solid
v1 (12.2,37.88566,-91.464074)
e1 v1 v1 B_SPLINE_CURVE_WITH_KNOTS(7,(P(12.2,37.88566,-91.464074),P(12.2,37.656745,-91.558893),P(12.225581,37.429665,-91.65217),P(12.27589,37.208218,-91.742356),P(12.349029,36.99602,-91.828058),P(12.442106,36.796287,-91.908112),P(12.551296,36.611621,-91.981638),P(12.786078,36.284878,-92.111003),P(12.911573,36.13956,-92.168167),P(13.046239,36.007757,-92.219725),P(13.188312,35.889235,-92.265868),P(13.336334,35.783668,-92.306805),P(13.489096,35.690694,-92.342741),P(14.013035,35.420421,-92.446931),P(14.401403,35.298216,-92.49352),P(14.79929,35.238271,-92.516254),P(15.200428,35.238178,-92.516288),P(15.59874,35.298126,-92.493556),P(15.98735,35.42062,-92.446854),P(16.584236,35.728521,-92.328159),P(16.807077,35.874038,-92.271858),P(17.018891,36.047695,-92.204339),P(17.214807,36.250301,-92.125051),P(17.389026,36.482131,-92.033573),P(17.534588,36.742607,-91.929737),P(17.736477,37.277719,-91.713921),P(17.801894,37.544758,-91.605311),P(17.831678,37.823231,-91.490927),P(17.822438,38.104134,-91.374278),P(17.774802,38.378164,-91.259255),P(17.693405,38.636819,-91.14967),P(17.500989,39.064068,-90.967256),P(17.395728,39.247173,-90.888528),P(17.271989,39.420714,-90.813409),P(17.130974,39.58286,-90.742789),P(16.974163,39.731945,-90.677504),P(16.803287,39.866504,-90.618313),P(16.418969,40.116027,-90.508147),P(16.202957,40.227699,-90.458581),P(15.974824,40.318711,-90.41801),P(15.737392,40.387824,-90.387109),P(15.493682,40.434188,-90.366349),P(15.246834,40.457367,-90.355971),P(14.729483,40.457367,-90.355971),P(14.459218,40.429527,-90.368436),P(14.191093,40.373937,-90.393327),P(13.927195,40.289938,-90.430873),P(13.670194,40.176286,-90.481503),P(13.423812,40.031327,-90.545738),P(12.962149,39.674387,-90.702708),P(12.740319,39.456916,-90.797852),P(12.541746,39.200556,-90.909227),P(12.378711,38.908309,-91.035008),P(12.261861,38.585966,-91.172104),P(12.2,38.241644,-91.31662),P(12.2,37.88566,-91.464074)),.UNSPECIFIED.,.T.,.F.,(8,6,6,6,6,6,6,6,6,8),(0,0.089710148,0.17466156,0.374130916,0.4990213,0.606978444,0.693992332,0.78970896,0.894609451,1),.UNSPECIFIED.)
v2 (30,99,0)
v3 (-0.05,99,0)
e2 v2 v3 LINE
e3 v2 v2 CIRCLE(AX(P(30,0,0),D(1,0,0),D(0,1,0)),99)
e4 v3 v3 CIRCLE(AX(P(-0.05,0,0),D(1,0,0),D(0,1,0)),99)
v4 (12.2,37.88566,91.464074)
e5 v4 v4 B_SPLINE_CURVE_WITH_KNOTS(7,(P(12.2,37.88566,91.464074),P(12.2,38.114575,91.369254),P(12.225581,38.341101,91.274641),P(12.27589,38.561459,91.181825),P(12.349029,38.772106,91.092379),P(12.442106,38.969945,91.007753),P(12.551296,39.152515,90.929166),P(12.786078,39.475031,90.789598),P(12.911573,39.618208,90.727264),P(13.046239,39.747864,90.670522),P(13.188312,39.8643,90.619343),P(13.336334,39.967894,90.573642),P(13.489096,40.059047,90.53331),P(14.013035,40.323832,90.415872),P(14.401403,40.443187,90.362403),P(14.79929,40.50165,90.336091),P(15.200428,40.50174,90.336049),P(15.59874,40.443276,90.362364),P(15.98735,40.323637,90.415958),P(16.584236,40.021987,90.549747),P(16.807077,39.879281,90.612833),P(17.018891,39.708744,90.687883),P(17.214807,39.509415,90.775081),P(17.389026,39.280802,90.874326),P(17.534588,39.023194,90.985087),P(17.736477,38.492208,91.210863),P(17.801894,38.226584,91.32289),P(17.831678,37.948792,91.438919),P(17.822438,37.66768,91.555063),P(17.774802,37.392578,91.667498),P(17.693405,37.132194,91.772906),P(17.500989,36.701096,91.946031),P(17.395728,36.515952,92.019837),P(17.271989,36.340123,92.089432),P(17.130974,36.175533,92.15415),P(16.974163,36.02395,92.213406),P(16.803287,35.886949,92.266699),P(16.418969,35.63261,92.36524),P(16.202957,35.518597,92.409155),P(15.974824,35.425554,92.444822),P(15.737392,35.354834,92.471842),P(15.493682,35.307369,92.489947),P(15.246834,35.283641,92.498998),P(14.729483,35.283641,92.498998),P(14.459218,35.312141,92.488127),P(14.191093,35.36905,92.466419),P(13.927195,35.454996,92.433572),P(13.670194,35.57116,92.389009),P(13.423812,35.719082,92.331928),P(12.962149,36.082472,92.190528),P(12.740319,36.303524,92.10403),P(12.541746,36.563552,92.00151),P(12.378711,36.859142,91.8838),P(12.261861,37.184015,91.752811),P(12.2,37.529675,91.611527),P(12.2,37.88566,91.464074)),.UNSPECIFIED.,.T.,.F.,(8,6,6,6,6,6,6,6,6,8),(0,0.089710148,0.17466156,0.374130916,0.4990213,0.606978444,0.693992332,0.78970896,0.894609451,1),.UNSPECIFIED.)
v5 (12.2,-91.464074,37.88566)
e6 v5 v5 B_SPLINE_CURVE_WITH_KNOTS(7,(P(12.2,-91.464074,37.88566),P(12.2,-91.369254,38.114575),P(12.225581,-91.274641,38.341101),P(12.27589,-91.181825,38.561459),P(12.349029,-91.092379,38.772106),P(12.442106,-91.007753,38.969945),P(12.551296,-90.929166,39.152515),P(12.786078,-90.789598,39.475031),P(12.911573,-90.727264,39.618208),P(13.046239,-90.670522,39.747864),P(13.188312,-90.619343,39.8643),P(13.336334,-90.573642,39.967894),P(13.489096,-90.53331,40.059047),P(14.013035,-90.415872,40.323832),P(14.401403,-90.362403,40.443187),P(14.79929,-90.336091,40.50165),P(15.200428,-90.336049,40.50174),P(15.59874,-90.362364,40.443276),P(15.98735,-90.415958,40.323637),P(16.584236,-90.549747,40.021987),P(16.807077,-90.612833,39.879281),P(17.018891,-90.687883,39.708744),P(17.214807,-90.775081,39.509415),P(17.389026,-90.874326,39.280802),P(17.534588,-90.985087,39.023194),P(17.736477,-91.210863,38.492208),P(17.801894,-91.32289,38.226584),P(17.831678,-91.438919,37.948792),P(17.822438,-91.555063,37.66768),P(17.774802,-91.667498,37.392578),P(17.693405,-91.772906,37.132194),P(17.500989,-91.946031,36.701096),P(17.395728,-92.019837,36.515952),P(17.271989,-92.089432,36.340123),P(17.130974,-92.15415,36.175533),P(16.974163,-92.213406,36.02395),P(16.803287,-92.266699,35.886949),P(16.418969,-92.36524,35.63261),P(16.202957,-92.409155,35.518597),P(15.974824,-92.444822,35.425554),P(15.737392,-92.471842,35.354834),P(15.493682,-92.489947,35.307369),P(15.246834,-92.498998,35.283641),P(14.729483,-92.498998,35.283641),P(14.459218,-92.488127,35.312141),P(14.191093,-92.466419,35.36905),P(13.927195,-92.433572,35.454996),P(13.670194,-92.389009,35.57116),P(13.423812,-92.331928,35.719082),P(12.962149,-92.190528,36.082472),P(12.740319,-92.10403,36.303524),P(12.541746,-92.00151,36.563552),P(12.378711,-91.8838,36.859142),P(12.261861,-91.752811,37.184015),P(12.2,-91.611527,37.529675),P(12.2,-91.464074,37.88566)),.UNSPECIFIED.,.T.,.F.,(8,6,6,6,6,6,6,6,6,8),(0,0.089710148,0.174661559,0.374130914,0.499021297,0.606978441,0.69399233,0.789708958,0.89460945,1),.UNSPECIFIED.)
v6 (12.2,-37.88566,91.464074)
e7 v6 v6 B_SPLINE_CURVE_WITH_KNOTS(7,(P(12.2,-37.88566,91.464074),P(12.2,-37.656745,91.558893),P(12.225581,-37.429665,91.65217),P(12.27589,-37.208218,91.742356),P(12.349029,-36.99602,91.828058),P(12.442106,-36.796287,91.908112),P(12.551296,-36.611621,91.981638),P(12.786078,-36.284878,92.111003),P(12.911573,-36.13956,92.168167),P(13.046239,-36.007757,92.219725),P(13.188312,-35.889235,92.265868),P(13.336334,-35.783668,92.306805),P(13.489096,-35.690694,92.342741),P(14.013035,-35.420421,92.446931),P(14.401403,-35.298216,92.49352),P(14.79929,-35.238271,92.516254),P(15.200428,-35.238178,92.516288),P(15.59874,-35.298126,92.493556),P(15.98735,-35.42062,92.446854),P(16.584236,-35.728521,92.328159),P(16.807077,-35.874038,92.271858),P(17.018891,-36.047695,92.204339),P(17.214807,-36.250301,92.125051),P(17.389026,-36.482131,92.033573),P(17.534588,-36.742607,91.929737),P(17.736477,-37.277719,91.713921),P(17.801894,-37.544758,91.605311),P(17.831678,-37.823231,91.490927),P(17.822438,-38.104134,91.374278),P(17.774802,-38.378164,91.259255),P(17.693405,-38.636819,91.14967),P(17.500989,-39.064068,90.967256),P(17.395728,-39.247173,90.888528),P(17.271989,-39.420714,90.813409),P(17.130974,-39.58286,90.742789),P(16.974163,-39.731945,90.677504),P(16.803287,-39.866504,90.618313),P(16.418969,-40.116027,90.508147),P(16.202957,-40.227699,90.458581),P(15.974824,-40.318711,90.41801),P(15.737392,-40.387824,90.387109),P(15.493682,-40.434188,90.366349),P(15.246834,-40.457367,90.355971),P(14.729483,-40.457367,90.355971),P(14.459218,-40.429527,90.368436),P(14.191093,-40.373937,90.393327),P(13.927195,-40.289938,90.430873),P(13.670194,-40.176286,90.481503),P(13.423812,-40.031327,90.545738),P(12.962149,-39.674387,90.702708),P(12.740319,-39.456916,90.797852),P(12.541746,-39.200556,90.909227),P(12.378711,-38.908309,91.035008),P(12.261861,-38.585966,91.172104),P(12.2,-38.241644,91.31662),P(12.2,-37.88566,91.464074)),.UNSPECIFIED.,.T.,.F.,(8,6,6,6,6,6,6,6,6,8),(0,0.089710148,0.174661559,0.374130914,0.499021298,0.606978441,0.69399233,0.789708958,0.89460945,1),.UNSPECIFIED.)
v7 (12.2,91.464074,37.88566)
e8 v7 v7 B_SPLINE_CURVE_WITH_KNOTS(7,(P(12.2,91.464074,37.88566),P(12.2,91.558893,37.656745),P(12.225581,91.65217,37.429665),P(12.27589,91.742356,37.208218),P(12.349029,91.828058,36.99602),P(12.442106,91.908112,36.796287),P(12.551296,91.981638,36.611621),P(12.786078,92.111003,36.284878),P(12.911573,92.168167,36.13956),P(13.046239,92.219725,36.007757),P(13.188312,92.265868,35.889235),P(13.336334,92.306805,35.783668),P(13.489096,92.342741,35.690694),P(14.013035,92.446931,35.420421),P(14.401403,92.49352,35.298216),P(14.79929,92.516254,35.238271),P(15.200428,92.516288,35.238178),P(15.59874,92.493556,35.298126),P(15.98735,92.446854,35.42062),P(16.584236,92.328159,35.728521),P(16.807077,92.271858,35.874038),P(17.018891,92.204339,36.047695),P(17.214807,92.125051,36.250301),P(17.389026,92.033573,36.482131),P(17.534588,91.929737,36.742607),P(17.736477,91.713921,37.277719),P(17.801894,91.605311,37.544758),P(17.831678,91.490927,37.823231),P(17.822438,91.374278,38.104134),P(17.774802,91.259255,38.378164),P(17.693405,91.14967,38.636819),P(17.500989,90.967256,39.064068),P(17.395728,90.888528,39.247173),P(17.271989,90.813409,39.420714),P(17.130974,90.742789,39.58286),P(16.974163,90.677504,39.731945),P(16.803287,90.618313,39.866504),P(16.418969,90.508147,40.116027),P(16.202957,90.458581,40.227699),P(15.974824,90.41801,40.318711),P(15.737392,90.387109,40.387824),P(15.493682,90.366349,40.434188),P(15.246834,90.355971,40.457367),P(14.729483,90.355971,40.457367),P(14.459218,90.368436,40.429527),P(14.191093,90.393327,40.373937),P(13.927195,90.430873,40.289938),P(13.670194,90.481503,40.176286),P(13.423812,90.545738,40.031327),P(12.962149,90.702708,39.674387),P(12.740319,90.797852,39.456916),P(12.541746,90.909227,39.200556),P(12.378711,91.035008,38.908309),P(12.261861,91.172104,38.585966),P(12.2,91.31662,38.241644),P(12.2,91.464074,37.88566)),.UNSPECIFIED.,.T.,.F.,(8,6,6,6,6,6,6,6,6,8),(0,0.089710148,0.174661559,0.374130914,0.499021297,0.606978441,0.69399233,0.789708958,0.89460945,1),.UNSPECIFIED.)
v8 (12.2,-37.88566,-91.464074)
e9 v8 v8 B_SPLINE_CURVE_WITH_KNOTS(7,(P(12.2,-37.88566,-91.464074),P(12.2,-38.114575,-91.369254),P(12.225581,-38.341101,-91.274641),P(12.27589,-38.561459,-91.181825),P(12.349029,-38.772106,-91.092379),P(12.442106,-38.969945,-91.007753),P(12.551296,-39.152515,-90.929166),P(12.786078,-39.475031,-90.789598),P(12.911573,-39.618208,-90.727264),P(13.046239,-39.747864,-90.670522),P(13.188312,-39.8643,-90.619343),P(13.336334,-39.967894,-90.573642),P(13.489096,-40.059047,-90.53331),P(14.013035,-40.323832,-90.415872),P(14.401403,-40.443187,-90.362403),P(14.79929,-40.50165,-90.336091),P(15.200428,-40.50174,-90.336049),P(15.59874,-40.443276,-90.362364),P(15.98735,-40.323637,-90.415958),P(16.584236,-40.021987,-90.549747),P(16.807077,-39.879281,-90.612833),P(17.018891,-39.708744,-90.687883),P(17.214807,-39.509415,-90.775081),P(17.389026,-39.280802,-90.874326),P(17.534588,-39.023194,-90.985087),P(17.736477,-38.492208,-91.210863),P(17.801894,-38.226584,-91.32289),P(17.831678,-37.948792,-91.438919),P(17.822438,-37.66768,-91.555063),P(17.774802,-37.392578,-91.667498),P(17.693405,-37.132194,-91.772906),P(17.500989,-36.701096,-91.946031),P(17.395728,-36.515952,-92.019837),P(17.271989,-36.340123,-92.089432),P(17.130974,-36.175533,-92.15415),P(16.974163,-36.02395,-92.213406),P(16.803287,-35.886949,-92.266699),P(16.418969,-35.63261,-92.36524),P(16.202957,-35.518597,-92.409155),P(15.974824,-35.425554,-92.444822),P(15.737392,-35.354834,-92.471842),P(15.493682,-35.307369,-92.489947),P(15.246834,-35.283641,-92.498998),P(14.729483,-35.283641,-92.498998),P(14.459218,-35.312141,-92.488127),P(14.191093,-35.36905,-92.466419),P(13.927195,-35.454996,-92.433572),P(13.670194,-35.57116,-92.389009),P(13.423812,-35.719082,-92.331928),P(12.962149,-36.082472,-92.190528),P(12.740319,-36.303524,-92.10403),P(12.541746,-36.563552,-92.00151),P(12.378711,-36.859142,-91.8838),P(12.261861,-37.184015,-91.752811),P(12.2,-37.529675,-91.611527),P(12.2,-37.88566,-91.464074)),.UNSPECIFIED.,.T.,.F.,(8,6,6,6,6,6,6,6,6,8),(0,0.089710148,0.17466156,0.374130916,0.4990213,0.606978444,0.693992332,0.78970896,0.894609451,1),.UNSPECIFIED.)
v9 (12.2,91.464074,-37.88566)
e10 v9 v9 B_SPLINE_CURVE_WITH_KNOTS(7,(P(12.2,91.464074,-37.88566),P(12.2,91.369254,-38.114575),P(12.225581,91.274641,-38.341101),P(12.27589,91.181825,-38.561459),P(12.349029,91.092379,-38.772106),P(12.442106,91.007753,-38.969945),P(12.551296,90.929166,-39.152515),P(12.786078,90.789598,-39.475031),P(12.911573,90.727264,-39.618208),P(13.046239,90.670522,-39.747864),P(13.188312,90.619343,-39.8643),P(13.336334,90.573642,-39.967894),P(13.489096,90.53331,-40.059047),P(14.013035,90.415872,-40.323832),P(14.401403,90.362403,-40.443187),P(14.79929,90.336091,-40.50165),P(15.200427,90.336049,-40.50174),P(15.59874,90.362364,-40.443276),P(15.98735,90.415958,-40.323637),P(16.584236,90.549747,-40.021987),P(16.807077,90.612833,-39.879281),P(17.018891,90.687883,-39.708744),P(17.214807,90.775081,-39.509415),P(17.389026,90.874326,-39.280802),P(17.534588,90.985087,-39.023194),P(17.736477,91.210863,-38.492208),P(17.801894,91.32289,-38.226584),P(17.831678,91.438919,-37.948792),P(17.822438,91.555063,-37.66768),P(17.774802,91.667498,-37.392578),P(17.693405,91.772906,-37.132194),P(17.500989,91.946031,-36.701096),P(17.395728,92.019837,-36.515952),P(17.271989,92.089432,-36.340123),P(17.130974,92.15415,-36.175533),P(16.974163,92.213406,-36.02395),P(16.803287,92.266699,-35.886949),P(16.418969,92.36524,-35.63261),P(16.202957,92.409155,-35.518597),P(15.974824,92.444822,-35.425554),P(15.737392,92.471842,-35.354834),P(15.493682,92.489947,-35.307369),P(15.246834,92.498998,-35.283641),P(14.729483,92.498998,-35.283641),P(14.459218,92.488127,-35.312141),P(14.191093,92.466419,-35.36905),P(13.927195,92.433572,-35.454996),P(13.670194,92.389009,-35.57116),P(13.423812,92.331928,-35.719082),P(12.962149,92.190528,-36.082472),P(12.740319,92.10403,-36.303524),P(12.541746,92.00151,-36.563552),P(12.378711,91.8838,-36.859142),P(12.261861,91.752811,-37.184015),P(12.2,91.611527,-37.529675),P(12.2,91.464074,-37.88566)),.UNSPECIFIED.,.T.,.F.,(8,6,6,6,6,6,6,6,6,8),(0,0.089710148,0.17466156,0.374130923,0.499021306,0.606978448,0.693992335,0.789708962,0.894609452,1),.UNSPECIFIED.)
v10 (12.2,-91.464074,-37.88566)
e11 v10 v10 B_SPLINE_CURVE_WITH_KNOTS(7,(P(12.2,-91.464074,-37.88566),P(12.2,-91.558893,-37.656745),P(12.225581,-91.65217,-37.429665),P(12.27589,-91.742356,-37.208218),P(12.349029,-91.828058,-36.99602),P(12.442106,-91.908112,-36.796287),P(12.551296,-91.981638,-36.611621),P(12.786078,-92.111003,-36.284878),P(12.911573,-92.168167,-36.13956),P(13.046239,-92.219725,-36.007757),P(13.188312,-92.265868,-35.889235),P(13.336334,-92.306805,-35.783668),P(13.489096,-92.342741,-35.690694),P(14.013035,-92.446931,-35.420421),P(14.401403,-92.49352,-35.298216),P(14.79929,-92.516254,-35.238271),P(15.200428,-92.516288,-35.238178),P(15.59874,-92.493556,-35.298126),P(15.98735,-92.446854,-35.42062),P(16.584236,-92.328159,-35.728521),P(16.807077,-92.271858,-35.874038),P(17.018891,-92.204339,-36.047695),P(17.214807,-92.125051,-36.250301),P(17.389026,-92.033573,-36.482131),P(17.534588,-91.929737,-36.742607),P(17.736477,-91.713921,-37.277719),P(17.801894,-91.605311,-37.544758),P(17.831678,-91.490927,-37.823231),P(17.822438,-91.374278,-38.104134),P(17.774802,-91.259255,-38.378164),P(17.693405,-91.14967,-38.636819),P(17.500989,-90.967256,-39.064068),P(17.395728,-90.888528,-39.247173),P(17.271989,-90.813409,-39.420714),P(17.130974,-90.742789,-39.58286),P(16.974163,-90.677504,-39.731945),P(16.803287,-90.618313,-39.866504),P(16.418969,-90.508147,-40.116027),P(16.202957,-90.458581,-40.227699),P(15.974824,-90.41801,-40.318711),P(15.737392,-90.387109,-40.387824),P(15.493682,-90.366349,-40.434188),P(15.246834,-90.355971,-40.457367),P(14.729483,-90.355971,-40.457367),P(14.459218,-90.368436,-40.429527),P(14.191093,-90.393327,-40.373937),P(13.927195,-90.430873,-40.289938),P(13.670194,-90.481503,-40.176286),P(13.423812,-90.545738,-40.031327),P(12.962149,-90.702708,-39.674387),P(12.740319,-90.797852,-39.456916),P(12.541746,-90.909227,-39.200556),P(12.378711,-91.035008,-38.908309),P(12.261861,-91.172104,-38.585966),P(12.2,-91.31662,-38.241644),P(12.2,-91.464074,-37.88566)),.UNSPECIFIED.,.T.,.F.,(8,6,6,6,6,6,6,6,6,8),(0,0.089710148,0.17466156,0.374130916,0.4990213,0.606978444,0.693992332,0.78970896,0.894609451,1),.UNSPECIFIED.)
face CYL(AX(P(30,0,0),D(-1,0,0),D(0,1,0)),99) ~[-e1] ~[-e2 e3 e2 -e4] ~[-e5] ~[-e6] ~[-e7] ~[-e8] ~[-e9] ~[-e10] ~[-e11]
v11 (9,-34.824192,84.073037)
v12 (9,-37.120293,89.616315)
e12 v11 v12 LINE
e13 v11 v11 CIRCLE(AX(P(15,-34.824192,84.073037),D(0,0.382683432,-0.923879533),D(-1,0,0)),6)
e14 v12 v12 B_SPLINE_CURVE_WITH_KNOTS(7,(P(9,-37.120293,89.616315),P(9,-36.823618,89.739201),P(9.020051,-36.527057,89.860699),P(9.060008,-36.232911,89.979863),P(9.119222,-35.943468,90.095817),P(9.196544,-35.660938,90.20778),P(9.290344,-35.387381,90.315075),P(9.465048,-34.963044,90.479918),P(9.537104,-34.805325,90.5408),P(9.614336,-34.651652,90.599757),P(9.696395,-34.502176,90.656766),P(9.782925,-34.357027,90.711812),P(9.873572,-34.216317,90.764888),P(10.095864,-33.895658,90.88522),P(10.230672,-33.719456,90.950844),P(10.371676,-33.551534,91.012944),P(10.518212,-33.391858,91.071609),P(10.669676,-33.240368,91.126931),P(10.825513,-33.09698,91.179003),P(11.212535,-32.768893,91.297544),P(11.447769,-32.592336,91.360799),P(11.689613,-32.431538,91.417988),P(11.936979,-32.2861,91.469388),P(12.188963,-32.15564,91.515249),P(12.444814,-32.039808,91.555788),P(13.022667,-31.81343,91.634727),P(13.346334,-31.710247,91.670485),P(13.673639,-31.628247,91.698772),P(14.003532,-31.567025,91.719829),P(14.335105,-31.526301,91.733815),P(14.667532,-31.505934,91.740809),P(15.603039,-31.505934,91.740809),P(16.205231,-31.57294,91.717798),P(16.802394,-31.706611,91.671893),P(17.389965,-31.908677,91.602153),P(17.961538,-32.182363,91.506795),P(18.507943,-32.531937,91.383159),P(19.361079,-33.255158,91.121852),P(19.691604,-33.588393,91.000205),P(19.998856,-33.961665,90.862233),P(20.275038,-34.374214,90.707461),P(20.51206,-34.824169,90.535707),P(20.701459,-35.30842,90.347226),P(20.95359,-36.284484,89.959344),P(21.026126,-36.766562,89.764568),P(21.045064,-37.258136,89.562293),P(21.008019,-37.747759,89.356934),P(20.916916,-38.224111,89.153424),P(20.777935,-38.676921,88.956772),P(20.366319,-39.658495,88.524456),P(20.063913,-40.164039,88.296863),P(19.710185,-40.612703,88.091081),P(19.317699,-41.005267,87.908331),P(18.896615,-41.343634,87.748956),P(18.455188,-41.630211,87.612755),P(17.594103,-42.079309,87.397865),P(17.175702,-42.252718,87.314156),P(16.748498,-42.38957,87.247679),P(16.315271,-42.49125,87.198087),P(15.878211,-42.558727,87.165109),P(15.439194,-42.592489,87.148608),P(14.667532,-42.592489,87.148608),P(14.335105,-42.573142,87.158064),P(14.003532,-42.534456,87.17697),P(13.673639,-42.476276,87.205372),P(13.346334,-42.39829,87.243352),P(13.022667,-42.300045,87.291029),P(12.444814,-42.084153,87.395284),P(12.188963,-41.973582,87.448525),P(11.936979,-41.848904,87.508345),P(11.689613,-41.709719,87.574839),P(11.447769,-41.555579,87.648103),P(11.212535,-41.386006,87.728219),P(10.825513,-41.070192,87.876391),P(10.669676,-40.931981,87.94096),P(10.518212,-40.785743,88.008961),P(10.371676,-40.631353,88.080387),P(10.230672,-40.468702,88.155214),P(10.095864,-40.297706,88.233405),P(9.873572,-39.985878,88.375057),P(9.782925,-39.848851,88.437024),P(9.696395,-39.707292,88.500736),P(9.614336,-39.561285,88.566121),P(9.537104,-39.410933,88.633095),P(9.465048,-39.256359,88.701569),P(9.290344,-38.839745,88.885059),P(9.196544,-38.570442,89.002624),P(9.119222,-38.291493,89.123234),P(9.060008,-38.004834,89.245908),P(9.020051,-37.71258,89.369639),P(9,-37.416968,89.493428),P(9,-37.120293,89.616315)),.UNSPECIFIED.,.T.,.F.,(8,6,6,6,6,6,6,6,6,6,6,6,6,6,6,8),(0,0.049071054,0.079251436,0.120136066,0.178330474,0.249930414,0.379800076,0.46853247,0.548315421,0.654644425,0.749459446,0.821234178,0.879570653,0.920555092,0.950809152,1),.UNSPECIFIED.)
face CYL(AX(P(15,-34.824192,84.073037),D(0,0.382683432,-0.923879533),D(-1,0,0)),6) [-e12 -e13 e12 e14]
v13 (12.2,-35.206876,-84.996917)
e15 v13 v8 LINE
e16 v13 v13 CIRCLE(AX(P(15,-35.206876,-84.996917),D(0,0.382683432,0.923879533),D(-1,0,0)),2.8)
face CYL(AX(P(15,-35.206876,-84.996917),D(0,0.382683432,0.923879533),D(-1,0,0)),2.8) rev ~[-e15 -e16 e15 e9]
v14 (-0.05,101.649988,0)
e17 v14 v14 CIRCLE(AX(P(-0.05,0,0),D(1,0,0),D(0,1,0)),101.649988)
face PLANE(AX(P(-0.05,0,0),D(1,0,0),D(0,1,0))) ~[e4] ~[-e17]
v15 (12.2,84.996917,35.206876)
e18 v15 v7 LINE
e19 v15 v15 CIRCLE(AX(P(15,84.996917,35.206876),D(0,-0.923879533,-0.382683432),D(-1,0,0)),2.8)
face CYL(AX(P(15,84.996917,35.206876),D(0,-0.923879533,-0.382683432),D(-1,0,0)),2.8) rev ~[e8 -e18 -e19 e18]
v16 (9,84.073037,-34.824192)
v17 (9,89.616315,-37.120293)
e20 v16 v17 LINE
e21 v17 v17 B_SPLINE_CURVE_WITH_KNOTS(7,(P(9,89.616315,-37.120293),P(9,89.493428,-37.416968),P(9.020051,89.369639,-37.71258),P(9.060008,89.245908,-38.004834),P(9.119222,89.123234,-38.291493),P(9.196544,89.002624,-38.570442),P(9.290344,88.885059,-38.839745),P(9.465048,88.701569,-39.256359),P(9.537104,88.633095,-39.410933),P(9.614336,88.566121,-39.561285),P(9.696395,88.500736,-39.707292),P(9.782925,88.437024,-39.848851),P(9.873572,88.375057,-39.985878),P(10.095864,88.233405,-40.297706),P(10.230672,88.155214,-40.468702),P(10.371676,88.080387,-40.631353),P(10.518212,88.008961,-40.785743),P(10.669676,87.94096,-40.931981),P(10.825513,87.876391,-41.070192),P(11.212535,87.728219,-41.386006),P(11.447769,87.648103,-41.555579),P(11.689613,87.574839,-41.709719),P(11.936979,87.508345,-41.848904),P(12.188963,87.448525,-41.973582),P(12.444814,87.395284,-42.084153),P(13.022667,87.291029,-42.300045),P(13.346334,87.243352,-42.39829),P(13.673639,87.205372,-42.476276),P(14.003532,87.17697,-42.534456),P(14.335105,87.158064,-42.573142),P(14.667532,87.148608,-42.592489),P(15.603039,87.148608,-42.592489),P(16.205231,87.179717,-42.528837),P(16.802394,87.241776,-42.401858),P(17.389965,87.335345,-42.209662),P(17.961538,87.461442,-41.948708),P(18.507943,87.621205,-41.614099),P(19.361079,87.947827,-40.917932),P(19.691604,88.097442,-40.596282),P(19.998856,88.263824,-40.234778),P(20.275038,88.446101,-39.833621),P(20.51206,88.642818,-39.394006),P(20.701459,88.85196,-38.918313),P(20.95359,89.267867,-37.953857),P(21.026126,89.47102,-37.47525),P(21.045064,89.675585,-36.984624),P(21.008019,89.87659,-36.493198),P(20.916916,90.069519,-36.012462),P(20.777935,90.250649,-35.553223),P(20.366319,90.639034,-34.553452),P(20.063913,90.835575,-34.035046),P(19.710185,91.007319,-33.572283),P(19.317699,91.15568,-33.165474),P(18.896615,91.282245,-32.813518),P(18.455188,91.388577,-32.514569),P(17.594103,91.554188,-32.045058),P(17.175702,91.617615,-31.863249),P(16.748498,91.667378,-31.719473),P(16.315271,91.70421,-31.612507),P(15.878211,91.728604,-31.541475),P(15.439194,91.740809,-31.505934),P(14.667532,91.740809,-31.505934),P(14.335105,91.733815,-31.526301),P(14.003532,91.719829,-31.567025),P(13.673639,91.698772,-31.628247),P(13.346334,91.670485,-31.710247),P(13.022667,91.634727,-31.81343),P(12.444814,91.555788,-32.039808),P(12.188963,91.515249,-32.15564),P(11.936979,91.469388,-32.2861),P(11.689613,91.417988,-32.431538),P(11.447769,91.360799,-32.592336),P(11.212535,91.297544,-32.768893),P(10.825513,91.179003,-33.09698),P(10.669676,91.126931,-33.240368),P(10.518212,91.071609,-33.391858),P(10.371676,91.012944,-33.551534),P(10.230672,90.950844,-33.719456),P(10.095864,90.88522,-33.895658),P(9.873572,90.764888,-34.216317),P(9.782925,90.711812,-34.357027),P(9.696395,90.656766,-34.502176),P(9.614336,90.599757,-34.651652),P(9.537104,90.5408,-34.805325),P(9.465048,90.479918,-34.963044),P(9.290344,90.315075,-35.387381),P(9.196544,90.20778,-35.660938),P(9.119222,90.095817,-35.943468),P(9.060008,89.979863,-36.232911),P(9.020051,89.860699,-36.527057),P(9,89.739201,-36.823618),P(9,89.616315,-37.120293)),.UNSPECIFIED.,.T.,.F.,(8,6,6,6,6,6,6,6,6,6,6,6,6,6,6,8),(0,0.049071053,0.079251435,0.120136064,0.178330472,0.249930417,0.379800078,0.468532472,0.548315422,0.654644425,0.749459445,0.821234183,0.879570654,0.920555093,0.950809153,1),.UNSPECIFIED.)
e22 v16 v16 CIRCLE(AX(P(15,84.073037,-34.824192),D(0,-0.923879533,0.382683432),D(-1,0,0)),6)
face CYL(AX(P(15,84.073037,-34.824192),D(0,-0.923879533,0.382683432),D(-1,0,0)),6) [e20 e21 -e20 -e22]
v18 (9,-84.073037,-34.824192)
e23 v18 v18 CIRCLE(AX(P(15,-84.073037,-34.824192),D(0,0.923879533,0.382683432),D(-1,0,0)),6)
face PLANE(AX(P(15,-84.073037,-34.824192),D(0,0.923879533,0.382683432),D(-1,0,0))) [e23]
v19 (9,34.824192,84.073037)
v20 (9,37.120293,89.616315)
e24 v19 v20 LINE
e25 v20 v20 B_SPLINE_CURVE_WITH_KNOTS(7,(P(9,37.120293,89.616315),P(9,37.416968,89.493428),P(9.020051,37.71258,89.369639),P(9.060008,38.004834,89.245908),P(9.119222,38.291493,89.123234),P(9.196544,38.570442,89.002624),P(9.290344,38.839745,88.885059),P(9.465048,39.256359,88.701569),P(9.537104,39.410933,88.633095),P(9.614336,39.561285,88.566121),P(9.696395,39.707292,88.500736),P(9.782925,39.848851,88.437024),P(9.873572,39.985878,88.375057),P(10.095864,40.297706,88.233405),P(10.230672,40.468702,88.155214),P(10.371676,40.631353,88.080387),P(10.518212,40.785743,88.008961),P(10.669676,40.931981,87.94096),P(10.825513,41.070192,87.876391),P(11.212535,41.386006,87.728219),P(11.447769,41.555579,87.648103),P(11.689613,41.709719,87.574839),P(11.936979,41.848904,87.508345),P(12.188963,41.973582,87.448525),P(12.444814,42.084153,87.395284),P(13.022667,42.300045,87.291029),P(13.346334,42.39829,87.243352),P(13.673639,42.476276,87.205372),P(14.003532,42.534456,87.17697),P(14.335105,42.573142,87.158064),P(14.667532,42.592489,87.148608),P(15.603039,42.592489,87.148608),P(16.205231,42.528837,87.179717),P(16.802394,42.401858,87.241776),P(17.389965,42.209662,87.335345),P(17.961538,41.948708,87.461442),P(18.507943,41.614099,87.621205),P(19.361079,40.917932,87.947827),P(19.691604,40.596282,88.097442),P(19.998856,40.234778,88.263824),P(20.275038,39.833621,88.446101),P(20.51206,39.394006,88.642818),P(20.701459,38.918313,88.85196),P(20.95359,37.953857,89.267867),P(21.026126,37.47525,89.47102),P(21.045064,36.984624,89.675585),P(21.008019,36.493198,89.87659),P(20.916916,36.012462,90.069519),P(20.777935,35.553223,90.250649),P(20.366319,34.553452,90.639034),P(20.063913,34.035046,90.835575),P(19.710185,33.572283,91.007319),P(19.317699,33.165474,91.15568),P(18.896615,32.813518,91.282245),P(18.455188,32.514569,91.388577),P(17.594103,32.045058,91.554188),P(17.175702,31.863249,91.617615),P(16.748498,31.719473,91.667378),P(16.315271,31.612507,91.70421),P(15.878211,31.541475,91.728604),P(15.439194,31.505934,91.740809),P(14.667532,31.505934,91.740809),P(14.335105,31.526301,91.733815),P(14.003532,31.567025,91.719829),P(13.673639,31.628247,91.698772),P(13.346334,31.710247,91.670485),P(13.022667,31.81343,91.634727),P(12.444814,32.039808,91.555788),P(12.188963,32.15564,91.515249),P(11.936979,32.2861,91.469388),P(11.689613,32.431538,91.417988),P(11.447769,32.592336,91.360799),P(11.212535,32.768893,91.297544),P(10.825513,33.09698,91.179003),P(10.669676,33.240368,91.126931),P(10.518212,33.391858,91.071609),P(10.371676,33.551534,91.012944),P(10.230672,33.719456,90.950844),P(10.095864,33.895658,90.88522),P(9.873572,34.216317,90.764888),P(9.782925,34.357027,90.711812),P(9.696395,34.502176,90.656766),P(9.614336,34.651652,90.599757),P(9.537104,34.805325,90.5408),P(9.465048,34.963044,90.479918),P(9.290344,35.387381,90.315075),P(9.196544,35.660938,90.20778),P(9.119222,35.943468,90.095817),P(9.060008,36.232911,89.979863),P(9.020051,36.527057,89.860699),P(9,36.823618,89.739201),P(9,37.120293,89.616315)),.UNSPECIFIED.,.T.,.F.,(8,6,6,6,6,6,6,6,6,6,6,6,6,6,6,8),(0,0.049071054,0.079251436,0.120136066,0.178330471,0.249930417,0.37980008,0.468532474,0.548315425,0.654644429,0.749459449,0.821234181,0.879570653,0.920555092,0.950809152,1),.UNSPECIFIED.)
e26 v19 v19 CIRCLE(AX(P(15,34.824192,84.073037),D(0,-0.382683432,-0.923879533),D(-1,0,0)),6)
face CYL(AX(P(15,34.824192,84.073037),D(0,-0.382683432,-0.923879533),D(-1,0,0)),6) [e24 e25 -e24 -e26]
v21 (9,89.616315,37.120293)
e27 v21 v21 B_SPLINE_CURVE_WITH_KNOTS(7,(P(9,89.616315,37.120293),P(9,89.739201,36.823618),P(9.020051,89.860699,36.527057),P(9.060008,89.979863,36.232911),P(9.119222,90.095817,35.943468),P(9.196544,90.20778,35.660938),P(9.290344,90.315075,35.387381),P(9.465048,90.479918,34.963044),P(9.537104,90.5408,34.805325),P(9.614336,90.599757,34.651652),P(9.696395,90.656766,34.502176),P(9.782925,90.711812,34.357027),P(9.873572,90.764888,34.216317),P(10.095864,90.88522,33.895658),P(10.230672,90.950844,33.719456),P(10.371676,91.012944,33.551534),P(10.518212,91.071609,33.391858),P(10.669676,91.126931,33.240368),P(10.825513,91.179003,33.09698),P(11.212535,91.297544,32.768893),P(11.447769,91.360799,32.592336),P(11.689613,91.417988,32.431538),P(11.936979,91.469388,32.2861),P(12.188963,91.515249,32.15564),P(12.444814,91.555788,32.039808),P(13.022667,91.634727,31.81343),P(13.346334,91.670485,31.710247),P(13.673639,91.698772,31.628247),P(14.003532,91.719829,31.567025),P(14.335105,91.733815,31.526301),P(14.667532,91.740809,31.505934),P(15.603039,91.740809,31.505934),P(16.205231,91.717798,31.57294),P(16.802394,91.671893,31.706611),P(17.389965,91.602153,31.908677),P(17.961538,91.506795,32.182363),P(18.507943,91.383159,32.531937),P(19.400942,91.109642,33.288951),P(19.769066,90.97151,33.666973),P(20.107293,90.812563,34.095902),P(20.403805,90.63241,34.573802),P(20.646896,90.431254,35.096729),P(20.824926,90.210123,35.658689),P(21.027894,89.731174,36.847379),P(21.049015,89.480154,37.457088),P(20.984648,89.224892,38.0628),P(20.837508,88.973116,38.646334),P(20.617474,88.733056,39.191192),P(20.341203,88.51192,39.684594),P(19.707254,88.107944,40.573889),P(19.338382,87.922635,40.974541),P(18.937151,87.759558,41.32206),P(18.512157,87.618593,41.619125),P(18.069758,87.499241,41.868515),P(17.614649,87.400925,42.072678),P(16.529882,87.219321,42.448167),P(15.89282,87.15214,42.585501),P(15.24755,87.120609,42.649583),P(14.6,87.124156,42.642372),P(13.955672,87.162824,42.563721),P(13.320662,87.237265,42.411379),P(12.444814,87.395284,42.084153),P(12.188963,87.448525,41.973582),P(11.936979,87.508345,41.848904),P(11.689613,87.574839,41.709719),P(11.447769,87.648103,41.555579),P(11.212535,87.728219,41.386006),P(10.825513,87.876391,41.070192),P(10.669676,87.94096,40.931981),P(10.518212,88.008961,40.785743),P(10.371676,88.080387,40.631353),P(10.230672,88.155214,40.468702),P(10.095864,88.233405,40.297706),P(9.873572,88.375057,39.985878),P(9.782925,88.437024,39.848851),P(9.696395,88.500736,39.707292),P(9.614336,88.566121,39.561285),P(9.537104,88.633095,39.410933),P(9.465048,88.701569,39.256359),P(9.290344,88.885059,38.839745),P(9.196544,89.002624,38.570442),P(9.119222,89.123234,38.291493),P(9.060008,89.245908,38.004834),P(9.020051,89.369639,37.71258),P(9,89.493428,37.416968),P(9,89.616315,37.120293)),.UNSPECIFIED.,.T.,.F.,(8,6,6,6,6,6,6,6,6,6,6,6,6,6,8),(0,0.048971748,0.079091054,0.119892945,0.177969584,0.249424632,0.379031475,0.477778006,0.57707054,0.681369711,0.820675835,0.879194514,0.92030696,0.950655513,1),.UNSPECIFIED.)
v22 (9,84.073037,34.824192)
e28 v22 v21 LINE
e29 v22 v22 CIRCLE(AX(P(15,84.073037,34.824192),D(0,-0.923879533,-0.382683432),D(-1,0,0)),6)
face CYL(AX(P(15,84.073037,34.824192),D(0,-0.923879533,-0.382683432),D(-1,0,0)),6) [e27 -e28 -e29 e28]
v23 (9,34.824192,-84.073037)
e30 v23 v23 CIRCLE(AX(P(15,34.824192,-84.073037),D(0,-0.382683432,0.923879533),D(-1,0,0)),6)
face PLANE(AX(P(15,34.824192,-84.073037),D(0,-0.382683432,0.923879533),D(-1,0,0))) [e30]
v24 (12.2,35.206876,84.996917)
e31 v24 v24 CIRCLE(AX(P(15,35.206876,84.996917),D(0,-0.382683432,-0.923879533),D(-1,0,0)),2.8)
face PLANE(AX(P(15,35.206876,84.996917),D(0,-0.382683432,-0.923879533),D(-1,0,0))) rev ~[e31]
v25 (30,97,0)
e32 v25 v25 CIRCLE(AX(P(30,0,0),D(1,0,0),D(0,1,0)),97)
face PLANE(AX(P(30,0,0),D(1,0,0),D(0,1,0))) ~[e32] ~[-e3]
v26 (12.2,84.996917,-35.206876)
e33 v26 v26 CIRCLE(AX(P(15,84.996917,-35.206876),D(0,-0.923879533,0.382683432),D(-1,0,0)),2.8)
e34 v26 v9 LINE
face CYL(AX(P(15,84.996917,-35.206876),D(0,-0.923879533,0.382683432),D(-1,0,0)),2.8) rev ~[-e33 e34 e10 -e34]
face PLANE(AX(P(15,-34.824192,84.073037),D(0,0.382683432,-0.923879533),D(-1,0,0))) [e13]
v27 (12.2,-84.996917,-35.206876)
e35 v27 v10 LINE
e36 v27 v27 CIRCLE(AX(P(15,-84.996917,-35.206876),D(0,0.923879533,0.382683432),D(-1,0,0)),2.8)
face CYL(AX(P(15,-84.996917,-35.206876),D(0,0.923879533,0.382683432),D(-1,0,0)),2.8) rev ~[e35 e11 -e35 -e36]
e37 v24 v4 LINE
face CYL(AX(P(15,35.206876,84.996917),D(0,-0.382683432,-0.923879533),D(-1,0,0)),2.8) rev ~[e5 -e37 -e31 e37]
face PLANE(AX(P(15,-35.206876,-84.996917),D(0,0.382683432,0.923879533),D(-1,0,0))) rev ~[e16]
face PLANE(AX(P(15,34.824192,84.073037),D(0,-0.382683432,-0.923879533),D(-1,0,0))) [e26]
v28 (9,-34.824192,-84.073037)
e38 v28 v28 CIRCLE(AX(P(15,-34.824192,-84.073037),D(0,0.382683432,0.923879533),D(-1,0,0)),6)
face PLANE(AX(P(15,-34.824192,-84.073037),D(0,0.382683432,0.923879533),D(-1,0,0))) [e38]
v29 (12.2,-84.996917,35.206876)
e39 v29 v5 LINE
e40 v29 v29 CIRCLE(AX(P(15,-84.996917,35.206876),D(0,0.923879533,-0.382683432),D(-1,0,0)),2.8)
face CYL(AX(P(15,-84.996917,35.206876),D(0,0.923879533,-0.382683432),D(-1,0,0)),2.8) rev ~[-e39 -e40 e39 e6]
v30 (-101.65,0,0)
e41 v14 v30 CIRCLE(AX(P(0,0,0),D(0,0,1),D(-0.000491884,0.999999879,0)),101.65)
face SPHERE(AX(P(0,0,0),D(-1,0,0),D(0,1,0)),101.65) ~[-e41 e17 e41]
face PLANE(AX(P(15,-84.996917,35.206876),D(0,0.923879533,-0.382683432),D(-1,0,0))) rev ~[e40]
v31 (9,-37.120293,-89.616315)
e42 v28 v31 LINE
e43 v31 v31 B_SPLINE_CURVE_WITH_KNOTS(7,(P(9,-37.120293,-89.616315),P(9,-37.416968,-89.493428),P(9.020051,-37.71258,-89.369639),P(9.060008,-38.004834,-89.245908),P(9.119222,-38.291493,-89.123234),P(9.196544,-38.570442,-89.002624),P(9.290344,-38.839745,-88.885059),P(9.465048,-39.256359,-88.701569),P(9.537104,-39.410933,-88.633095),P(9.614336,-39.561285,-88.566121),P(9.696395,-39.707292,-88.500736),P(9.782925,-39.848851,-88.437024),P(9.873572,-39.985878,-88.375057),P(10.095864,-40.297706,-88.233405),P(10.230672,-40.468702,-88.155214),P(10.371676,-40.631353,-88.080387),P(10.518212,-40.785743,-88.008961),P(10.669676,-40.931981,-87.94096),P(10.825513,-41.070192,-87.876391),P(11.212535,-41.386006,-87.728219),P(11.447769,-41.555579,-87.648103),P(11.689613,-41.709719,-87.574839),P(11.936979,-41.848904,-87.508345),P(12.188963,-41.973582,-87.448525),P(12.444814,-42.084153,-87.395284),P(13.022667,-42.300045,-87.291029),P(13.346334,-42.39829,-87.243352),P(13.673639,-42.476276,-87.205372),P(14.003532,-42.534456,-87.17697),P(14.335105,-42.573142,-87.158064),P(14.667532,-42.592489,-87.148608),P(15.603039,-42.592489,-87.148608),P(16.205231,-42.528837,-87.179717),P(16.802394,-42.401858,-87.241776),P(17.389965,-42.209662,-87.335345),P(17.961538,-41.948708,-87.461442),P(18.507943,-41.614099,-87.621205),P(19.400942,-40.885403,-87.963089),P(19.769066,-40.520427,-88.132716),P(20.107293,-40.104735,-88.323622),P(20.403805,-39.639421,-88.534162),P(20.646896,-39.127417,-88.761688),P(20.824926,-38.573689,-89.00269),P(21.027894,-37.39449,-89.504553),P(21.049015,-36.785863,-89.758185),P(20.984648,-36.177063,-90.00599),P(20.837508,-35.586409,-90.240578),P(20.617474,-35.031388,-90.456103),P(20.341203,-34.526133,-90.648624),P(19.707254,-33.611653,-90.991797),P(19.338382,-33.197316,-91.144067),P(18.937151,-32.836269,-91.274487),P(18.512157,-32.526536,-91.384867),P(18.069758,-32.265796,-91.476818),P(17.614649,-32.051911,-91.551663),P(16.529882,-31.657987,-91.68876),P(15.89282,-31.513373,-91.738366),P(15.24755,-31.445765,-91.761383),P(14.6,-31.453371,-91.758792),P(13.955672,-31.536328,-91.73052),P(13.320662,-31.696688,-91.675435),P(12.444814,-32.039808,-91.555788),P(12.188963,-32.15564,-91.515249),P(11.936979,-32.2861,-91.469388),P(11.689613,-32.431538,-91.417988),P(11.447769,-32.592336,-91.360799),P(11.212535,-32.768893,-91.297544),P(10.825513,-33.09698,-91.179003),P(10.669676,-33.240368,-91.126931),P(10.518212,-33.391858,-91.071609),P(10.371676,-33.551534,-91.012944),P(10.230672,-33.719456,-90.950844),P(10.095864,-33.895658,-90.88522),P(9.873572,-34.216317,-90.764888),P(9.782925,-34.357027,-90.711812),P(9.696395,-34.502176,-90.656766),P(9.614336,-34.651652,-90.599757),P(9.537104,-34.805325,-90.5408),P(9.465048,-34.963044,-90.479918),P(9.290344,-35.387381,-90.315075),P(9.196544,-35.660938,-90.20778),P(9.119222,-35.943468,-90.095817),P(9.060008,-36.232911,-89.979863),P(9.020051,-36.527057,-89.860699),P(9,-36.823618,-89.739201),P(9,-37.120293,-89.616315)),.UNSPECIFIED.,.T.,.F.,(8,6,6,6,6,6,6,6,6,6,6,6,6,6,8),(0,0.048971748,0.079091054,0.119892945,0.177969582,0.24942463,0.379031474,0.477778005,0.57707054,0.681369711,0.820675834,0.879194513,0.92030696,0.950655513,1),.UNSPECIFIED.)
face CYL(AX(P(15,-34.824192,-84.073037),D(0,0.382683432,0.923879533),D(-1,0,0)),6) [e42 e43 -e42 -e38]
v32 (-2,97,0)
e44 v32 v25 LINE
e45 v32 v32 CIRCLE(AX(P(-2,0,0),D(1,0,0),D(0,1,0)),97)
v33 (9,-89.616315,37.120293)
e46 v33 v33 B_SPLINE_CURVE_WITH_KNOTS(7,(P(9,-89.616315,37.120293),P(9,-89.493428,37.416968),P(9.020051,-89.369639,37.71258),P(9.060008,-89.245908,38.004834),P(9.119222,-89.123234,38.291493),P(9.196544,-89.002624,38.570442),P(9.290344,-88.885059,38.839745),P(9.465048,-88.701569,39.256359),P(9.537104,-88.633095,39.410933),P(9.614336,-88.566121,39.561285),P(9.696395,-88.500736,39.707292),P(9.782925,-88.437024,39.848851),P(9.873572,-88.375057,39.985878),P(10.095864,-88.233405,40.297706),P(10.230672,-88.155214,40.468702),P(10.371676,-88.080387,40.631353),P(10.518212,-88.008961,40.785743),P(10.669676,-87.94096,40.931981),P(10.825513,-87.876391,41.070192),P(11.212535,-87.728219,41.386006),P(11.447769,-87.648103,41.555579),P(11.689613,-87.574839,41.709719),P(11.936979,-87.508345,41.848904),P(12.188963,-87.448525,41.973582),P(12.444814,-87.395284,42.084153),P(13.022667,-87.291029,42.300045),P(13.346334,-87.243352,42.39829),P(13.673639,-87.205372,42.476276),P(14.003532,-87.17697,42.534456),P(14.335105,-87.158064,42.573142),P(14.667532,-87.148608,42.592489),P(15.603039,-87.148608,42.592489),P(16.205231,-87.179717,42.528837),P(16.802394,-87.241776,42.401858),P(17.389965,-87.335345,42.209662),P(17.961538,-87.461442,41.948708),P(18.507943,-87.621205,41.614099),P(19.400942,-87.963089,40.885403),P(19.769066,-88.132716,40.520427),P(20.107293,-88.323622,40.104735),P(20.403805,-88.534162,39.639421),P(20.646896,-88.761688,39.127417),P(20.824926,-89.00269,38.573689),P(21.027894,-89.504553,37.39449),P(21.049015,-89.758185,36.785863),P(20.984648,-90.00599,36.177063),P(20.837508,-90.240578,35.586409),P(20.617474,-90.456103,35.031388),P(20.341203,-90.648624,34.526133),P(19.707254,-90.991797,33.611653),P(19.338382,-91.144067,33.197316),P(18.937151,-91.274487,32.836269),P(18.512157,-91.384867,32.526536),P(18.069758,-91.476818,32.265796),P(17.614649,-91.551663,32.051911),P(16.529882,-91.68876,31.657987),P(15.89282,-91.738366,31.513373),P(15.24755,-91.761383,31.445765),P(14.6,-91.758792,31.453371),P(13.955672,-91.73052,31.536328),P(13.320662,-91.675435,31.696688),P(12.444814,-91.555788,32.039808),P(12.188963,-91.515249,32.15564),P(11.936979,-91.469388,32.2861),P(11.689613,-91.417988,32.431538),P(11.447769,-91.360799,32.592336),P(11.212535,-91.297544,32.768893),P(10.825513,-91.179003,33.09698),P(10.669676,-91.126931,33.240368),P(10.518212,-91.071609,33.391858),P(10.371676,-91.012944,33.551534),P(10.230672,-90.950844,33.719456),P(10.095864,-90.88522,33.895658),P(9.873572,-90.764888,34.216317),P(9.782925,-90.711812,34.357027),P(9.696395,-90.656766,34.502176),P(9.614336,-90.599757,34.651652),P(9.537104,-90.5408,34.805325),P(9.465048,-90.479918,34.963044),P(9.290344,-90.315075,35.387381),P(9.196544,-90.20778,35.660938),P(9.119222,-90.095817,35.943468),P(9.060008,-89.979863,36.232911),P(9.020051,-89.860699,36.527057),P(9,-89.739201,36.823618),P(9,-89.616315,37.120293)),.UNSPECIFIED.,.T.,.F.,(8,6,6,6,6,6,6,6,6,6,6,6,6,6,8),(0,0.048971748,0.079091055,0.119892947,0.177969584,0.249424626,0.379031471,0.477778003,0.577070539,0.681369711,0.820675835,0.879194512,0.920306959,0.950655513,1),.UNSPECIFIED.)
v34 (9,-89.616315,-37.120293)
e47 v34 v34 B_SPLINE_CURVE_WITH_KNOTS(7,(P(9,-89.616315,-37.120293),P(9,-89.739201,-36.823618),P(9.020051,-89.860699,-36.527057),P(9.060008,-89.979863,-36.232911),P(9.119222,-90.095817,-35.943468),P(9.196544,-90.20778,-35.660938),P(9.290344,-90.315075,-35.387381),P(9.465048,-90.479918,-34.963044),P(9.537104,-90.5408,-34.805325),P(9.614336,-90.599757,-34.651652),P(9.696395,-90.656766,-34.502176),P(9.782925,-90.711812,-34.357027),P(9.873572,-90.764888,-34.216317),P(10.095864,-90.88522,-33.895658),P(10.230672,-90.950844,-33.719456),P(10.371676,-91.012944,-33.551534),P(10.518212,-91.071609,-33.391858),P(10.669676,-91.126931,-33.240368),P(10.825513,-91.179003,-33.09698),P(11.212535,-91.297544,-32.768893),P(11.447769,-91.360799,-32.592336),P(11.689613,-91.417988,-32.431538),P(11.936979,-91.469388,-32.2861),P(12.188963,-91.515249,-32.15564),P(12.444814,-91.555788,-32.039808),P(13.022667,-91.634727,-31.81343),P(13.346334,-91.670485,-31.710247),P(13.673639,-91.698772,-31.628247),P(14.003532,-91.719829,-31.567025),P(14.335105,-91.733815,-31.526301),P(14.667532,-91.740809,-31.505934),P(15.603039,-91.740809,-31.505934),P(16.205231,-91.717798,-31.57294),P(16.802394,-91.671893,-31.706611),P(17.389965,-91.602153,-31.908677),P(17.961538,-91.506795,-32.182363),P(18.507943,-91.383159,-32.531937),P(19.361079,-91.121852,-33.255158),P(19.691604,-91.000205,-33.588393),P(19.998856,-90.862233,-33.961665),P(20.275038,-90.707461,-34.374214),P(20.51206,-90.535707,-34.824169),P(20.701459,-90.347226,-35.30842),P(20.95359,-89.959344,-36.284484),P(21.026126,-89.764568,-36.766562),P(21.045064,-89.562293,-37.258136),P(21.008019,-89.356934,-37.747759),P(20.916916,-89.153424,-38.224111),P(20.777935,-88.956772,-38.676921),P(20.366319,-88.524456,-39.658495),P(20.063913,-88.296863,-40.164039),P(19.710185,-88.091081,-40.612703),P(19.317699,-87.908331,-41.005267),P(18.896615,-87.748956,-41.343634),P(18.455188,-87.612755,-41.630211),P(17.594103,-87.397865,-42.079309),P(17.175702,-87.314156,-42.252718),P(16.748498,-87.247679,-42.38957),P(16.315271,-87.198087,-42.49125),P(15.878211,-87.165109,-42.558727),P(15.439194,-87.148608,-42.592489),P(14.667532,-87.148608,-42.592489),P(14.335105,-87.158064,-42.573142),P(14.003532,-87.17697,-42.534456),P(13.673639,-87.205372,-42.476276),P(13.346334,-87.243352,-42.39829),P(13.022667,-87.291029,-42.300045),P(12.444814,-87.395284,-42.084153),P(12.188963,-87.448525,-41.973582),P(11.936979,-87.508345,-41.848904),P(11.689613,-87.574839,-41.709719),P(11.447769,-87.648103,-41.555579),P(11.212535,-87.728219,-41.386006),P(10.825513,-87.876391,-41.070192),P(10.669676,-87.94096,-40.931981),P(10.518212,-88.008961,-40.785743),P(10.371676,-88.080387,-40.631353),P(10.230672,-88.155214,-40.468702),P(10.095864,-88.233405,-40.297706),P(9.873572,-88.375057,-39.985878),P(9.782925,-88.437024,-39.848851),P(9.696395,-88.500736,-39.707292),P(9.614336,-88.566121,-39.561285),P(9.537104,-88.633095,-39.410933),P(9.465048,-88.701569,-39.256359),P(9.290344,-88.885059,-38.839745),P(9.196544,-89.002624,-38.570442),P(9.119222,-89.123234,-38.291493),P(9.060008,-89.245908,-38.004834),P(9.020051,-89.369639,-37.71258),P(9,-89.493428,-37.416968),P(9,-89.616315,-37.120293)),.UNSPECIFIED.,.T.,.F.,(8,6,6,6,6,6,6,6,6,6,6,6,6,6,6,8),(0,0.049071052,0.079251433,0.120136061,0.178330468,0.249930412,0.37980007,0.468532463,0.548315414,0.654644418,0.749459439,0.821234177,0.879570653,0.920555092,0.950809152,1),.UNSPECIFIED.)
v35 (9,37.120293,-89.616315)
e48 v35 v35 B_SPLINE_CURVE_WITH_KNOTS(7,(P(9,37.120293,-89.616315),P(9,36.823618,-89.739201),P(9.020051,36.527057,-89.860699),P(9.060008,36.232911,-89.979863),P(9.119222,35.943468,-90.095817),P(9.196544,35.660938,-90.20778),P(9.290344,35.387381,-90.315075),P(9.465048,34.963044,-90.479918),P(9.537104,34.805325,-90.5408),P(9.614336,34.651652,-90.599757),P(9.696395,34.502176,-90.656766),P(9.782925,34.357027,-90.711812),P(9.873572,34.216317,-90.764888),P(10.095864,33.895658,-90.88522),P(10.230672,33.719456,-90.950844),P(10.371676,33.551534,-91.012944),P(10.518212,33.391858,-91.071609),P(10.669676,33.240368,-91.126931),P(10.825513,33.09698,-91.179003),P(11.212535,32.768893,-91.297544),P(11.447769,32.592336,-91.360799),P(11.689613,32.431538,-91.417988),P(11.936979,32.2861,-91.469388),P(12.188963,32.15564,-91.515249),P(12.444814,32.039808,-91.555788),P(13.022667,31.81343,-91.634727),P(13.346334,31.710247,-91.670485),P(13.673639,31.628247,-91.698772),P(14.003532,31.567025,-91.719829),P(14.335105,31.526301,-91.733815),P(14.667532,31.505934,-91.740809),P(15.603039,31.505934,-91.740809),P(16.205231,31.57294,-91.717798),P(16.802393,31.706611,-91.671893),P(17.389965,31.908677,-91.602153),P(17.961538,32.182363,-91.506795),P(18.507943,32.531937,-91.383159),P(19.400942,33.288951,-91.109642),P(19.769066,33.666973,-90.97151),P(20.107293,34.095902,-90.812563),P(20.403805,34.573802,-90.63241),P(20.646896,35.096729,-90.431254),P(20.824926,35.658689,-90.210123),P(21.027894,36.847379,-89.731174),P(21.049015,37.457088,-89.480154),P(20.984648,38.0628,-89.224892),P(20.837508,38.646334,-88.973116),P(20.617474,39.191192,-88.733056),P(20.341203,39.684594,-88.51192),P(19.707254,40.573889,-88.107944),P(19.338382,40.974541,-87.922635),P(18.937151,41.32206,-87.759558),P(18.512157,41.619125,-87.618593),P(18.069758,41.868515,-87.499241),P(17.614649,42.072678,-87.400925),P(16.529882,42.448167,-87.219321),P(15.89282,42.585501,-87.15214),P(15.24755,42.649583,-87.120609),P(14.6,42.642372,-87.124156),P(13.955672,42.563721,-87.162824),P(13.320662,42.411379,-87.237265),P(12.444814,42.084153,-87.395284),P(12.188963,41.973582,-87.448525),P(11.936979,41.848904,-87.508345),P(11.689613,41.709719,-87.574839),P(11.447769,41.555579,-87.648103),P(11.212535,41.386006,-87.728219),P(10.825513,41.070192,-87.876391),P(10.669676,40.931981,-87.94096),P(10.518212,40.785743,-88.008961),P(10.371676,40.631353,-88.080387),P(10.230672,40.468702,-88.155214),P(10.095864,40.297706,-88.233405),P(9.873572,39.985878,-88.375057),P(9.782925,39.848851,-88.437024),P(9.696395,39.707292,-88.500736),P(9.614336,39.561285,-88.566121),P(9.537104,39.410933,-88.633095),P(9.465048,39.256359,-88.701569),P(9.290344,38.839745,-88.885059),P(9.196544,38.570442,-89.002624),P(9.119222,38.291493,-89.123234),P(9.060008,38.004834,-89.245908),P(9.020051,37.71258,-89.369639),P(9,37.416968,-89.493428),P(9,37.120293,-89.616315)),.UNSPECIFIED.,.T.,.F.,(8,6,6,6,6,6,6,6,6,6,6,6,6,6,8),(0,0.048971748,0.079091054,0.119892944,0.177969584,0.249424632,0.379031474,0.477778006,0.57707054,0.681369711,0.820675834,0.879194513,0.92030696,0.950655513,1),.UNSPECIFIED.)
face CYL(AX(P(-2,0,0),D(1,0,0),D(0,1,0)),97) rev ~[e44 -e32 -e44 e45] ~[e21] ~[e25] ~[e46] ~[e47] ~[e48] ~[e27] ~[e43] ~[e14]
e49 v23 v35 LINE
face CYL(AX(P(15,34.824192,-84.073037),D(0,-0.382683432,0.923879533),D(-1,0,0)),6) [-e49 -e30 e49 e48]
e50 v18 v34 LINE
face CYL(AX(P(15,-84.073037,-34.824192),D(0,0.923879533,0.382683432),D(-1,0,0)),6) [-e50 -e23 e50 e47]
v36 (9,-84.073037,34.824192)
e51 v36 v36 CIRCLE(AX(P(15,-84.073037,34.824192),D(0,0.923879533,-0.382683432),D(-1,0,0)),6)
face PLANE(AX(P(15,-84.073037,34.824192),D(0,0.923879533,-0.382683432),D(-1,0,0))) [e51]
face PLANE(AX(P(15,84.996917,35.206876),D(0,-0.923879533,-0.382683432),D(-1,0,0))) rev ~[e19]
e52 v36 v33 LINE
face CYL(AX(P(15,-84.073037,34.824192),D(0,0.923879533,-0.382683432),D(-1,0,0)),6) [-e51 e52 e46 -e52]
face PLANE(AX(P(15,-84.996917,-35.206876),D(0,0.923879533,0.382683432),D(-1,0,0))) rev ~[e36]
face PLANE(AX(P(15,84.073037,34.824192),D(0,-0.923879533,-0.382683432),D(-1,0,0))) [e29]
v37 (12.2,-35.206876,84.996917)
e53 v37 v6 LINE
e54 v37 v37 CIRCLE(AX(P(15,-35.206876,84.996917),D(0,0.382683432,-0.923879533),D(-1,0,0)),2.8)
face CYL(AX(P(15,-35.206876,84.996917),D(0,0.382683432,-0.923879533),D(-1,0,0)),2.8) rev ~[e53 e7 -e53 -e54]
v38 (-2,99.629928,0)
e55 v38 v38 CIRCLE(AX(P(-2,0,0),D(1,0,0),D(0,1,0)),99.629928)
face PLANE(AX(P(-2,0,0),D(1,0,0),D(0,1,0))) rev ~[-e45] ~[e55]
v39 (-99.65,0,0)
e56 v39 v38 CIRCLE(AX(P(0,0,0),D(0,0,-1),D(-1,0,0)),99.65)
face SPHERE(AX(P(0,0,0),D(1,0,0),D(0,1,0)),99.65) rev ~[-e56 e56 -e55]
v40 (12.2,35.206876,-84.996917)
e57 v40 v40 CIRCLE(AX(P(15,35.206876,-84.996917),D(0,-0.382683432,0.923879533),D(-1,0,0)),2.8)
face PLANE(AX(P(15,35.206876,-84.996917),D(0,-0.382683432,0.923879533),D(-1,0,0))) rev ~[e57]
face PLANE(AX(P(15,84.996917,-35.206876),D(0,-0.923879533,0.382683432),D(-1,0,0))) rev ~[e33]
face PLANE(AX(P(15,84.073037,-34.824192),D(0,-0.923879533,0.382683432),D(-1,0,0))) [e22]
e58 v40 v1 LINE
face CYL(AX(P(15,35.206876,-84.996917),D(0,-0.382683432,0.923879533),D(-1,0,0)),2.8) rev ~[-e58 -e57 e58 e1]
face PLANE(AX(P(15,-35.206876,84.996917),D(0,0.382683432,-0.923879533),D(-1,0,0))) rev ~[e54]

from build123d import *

# Parameters (mm, degrees)
BOSS_START                = -91
BOSS_SKETCH_R             = 6
BOSS_DEPTH                = 6.5
INSERT_START              = -92
INSERT_HOLE_SKETCH_R      = 2.8
INSERT_HOLE_DEPTH         = 8
BOSSES_AND_HOLES_X8_COUNT = 8


with BuildPart() as part:
    # Dome Sketch → Dome (revolve)
    with BuildSketch(Plane.XY):
        with BuildLine():
            Line((30, 97), (30, 99))
            Line((30, 99), (-0.05, 99))
            Line((-0.05, 99), (-0.05, 101.649987703))
            ThreePointArc((-0.05, 101.649987703), (-71.895079804, 71.859724464), (-101.65, 0))
            Line((-101.65, 0), (-99.65, 0))
            ThreePointArc((-99.65, 0), (-71.166784738, 69.752499955), (-2, 99.629927733))
            Line((-2, 99.629927733), (-2, 97))
            Line((-2, 97), (30, 97))
        make_face()
    revolve(axis=Axis((-200, 0, 0), (1, 0, 0)))

    # Boss Sketch → Boss (add)
    with BuildSketch(Plane(origin=(0, 0, 0), x_dir=(-1, 0, 0), z_dir=(0, -0.9238795325112867, -0.3826834323650897)).offset(BOSS_START)):
        with Locations((-15, 0)):
            Circle(BOSS_SKETCH_R)
    boss = extrude(amount=-BOSS_DEPTH)

    # Insert Hole Sketch → Insert Hole (cut)
    with BuildSketch(Plane(origin=(0, 0, 0), x_dir=(-1, 0, 0), z_dir=(0, -0.9238795325112867, -0.3826834323650897)).offset(INSERT_START)):
        with Locations((-15, 0)):
            Circle(INSERT_HOLE_SKETCH_R)
    insert_hole = extrude(amount=-INSERT_HOLE_DEPTH, mode=Mode.SUBTRACT)

    # Bosses and Holes x8: Boss, Insert Hole ×8 about axis
    bosses_and_holes_x8_axis = Axis((36.5825, 0, 0), (-1, 0, 0))
    add([boss.rotate(bosses_and_holes_x8_axis, i * 360 / BOSSES_AND_HOLES_X8_COUNT) for i in range(1, BOSSES_AND_HOLES_X8_COUNT)])
    add([insert_hole.rotate(bosses_and_holes_x8_axis, i * 360 / BOSSES_AND_HOLES_X8_COUNT) for i in range(1, BOSSES_AND_HOLES_X8_COUNT)], mode=Mode.SUBTRACT)


solid = part.part
